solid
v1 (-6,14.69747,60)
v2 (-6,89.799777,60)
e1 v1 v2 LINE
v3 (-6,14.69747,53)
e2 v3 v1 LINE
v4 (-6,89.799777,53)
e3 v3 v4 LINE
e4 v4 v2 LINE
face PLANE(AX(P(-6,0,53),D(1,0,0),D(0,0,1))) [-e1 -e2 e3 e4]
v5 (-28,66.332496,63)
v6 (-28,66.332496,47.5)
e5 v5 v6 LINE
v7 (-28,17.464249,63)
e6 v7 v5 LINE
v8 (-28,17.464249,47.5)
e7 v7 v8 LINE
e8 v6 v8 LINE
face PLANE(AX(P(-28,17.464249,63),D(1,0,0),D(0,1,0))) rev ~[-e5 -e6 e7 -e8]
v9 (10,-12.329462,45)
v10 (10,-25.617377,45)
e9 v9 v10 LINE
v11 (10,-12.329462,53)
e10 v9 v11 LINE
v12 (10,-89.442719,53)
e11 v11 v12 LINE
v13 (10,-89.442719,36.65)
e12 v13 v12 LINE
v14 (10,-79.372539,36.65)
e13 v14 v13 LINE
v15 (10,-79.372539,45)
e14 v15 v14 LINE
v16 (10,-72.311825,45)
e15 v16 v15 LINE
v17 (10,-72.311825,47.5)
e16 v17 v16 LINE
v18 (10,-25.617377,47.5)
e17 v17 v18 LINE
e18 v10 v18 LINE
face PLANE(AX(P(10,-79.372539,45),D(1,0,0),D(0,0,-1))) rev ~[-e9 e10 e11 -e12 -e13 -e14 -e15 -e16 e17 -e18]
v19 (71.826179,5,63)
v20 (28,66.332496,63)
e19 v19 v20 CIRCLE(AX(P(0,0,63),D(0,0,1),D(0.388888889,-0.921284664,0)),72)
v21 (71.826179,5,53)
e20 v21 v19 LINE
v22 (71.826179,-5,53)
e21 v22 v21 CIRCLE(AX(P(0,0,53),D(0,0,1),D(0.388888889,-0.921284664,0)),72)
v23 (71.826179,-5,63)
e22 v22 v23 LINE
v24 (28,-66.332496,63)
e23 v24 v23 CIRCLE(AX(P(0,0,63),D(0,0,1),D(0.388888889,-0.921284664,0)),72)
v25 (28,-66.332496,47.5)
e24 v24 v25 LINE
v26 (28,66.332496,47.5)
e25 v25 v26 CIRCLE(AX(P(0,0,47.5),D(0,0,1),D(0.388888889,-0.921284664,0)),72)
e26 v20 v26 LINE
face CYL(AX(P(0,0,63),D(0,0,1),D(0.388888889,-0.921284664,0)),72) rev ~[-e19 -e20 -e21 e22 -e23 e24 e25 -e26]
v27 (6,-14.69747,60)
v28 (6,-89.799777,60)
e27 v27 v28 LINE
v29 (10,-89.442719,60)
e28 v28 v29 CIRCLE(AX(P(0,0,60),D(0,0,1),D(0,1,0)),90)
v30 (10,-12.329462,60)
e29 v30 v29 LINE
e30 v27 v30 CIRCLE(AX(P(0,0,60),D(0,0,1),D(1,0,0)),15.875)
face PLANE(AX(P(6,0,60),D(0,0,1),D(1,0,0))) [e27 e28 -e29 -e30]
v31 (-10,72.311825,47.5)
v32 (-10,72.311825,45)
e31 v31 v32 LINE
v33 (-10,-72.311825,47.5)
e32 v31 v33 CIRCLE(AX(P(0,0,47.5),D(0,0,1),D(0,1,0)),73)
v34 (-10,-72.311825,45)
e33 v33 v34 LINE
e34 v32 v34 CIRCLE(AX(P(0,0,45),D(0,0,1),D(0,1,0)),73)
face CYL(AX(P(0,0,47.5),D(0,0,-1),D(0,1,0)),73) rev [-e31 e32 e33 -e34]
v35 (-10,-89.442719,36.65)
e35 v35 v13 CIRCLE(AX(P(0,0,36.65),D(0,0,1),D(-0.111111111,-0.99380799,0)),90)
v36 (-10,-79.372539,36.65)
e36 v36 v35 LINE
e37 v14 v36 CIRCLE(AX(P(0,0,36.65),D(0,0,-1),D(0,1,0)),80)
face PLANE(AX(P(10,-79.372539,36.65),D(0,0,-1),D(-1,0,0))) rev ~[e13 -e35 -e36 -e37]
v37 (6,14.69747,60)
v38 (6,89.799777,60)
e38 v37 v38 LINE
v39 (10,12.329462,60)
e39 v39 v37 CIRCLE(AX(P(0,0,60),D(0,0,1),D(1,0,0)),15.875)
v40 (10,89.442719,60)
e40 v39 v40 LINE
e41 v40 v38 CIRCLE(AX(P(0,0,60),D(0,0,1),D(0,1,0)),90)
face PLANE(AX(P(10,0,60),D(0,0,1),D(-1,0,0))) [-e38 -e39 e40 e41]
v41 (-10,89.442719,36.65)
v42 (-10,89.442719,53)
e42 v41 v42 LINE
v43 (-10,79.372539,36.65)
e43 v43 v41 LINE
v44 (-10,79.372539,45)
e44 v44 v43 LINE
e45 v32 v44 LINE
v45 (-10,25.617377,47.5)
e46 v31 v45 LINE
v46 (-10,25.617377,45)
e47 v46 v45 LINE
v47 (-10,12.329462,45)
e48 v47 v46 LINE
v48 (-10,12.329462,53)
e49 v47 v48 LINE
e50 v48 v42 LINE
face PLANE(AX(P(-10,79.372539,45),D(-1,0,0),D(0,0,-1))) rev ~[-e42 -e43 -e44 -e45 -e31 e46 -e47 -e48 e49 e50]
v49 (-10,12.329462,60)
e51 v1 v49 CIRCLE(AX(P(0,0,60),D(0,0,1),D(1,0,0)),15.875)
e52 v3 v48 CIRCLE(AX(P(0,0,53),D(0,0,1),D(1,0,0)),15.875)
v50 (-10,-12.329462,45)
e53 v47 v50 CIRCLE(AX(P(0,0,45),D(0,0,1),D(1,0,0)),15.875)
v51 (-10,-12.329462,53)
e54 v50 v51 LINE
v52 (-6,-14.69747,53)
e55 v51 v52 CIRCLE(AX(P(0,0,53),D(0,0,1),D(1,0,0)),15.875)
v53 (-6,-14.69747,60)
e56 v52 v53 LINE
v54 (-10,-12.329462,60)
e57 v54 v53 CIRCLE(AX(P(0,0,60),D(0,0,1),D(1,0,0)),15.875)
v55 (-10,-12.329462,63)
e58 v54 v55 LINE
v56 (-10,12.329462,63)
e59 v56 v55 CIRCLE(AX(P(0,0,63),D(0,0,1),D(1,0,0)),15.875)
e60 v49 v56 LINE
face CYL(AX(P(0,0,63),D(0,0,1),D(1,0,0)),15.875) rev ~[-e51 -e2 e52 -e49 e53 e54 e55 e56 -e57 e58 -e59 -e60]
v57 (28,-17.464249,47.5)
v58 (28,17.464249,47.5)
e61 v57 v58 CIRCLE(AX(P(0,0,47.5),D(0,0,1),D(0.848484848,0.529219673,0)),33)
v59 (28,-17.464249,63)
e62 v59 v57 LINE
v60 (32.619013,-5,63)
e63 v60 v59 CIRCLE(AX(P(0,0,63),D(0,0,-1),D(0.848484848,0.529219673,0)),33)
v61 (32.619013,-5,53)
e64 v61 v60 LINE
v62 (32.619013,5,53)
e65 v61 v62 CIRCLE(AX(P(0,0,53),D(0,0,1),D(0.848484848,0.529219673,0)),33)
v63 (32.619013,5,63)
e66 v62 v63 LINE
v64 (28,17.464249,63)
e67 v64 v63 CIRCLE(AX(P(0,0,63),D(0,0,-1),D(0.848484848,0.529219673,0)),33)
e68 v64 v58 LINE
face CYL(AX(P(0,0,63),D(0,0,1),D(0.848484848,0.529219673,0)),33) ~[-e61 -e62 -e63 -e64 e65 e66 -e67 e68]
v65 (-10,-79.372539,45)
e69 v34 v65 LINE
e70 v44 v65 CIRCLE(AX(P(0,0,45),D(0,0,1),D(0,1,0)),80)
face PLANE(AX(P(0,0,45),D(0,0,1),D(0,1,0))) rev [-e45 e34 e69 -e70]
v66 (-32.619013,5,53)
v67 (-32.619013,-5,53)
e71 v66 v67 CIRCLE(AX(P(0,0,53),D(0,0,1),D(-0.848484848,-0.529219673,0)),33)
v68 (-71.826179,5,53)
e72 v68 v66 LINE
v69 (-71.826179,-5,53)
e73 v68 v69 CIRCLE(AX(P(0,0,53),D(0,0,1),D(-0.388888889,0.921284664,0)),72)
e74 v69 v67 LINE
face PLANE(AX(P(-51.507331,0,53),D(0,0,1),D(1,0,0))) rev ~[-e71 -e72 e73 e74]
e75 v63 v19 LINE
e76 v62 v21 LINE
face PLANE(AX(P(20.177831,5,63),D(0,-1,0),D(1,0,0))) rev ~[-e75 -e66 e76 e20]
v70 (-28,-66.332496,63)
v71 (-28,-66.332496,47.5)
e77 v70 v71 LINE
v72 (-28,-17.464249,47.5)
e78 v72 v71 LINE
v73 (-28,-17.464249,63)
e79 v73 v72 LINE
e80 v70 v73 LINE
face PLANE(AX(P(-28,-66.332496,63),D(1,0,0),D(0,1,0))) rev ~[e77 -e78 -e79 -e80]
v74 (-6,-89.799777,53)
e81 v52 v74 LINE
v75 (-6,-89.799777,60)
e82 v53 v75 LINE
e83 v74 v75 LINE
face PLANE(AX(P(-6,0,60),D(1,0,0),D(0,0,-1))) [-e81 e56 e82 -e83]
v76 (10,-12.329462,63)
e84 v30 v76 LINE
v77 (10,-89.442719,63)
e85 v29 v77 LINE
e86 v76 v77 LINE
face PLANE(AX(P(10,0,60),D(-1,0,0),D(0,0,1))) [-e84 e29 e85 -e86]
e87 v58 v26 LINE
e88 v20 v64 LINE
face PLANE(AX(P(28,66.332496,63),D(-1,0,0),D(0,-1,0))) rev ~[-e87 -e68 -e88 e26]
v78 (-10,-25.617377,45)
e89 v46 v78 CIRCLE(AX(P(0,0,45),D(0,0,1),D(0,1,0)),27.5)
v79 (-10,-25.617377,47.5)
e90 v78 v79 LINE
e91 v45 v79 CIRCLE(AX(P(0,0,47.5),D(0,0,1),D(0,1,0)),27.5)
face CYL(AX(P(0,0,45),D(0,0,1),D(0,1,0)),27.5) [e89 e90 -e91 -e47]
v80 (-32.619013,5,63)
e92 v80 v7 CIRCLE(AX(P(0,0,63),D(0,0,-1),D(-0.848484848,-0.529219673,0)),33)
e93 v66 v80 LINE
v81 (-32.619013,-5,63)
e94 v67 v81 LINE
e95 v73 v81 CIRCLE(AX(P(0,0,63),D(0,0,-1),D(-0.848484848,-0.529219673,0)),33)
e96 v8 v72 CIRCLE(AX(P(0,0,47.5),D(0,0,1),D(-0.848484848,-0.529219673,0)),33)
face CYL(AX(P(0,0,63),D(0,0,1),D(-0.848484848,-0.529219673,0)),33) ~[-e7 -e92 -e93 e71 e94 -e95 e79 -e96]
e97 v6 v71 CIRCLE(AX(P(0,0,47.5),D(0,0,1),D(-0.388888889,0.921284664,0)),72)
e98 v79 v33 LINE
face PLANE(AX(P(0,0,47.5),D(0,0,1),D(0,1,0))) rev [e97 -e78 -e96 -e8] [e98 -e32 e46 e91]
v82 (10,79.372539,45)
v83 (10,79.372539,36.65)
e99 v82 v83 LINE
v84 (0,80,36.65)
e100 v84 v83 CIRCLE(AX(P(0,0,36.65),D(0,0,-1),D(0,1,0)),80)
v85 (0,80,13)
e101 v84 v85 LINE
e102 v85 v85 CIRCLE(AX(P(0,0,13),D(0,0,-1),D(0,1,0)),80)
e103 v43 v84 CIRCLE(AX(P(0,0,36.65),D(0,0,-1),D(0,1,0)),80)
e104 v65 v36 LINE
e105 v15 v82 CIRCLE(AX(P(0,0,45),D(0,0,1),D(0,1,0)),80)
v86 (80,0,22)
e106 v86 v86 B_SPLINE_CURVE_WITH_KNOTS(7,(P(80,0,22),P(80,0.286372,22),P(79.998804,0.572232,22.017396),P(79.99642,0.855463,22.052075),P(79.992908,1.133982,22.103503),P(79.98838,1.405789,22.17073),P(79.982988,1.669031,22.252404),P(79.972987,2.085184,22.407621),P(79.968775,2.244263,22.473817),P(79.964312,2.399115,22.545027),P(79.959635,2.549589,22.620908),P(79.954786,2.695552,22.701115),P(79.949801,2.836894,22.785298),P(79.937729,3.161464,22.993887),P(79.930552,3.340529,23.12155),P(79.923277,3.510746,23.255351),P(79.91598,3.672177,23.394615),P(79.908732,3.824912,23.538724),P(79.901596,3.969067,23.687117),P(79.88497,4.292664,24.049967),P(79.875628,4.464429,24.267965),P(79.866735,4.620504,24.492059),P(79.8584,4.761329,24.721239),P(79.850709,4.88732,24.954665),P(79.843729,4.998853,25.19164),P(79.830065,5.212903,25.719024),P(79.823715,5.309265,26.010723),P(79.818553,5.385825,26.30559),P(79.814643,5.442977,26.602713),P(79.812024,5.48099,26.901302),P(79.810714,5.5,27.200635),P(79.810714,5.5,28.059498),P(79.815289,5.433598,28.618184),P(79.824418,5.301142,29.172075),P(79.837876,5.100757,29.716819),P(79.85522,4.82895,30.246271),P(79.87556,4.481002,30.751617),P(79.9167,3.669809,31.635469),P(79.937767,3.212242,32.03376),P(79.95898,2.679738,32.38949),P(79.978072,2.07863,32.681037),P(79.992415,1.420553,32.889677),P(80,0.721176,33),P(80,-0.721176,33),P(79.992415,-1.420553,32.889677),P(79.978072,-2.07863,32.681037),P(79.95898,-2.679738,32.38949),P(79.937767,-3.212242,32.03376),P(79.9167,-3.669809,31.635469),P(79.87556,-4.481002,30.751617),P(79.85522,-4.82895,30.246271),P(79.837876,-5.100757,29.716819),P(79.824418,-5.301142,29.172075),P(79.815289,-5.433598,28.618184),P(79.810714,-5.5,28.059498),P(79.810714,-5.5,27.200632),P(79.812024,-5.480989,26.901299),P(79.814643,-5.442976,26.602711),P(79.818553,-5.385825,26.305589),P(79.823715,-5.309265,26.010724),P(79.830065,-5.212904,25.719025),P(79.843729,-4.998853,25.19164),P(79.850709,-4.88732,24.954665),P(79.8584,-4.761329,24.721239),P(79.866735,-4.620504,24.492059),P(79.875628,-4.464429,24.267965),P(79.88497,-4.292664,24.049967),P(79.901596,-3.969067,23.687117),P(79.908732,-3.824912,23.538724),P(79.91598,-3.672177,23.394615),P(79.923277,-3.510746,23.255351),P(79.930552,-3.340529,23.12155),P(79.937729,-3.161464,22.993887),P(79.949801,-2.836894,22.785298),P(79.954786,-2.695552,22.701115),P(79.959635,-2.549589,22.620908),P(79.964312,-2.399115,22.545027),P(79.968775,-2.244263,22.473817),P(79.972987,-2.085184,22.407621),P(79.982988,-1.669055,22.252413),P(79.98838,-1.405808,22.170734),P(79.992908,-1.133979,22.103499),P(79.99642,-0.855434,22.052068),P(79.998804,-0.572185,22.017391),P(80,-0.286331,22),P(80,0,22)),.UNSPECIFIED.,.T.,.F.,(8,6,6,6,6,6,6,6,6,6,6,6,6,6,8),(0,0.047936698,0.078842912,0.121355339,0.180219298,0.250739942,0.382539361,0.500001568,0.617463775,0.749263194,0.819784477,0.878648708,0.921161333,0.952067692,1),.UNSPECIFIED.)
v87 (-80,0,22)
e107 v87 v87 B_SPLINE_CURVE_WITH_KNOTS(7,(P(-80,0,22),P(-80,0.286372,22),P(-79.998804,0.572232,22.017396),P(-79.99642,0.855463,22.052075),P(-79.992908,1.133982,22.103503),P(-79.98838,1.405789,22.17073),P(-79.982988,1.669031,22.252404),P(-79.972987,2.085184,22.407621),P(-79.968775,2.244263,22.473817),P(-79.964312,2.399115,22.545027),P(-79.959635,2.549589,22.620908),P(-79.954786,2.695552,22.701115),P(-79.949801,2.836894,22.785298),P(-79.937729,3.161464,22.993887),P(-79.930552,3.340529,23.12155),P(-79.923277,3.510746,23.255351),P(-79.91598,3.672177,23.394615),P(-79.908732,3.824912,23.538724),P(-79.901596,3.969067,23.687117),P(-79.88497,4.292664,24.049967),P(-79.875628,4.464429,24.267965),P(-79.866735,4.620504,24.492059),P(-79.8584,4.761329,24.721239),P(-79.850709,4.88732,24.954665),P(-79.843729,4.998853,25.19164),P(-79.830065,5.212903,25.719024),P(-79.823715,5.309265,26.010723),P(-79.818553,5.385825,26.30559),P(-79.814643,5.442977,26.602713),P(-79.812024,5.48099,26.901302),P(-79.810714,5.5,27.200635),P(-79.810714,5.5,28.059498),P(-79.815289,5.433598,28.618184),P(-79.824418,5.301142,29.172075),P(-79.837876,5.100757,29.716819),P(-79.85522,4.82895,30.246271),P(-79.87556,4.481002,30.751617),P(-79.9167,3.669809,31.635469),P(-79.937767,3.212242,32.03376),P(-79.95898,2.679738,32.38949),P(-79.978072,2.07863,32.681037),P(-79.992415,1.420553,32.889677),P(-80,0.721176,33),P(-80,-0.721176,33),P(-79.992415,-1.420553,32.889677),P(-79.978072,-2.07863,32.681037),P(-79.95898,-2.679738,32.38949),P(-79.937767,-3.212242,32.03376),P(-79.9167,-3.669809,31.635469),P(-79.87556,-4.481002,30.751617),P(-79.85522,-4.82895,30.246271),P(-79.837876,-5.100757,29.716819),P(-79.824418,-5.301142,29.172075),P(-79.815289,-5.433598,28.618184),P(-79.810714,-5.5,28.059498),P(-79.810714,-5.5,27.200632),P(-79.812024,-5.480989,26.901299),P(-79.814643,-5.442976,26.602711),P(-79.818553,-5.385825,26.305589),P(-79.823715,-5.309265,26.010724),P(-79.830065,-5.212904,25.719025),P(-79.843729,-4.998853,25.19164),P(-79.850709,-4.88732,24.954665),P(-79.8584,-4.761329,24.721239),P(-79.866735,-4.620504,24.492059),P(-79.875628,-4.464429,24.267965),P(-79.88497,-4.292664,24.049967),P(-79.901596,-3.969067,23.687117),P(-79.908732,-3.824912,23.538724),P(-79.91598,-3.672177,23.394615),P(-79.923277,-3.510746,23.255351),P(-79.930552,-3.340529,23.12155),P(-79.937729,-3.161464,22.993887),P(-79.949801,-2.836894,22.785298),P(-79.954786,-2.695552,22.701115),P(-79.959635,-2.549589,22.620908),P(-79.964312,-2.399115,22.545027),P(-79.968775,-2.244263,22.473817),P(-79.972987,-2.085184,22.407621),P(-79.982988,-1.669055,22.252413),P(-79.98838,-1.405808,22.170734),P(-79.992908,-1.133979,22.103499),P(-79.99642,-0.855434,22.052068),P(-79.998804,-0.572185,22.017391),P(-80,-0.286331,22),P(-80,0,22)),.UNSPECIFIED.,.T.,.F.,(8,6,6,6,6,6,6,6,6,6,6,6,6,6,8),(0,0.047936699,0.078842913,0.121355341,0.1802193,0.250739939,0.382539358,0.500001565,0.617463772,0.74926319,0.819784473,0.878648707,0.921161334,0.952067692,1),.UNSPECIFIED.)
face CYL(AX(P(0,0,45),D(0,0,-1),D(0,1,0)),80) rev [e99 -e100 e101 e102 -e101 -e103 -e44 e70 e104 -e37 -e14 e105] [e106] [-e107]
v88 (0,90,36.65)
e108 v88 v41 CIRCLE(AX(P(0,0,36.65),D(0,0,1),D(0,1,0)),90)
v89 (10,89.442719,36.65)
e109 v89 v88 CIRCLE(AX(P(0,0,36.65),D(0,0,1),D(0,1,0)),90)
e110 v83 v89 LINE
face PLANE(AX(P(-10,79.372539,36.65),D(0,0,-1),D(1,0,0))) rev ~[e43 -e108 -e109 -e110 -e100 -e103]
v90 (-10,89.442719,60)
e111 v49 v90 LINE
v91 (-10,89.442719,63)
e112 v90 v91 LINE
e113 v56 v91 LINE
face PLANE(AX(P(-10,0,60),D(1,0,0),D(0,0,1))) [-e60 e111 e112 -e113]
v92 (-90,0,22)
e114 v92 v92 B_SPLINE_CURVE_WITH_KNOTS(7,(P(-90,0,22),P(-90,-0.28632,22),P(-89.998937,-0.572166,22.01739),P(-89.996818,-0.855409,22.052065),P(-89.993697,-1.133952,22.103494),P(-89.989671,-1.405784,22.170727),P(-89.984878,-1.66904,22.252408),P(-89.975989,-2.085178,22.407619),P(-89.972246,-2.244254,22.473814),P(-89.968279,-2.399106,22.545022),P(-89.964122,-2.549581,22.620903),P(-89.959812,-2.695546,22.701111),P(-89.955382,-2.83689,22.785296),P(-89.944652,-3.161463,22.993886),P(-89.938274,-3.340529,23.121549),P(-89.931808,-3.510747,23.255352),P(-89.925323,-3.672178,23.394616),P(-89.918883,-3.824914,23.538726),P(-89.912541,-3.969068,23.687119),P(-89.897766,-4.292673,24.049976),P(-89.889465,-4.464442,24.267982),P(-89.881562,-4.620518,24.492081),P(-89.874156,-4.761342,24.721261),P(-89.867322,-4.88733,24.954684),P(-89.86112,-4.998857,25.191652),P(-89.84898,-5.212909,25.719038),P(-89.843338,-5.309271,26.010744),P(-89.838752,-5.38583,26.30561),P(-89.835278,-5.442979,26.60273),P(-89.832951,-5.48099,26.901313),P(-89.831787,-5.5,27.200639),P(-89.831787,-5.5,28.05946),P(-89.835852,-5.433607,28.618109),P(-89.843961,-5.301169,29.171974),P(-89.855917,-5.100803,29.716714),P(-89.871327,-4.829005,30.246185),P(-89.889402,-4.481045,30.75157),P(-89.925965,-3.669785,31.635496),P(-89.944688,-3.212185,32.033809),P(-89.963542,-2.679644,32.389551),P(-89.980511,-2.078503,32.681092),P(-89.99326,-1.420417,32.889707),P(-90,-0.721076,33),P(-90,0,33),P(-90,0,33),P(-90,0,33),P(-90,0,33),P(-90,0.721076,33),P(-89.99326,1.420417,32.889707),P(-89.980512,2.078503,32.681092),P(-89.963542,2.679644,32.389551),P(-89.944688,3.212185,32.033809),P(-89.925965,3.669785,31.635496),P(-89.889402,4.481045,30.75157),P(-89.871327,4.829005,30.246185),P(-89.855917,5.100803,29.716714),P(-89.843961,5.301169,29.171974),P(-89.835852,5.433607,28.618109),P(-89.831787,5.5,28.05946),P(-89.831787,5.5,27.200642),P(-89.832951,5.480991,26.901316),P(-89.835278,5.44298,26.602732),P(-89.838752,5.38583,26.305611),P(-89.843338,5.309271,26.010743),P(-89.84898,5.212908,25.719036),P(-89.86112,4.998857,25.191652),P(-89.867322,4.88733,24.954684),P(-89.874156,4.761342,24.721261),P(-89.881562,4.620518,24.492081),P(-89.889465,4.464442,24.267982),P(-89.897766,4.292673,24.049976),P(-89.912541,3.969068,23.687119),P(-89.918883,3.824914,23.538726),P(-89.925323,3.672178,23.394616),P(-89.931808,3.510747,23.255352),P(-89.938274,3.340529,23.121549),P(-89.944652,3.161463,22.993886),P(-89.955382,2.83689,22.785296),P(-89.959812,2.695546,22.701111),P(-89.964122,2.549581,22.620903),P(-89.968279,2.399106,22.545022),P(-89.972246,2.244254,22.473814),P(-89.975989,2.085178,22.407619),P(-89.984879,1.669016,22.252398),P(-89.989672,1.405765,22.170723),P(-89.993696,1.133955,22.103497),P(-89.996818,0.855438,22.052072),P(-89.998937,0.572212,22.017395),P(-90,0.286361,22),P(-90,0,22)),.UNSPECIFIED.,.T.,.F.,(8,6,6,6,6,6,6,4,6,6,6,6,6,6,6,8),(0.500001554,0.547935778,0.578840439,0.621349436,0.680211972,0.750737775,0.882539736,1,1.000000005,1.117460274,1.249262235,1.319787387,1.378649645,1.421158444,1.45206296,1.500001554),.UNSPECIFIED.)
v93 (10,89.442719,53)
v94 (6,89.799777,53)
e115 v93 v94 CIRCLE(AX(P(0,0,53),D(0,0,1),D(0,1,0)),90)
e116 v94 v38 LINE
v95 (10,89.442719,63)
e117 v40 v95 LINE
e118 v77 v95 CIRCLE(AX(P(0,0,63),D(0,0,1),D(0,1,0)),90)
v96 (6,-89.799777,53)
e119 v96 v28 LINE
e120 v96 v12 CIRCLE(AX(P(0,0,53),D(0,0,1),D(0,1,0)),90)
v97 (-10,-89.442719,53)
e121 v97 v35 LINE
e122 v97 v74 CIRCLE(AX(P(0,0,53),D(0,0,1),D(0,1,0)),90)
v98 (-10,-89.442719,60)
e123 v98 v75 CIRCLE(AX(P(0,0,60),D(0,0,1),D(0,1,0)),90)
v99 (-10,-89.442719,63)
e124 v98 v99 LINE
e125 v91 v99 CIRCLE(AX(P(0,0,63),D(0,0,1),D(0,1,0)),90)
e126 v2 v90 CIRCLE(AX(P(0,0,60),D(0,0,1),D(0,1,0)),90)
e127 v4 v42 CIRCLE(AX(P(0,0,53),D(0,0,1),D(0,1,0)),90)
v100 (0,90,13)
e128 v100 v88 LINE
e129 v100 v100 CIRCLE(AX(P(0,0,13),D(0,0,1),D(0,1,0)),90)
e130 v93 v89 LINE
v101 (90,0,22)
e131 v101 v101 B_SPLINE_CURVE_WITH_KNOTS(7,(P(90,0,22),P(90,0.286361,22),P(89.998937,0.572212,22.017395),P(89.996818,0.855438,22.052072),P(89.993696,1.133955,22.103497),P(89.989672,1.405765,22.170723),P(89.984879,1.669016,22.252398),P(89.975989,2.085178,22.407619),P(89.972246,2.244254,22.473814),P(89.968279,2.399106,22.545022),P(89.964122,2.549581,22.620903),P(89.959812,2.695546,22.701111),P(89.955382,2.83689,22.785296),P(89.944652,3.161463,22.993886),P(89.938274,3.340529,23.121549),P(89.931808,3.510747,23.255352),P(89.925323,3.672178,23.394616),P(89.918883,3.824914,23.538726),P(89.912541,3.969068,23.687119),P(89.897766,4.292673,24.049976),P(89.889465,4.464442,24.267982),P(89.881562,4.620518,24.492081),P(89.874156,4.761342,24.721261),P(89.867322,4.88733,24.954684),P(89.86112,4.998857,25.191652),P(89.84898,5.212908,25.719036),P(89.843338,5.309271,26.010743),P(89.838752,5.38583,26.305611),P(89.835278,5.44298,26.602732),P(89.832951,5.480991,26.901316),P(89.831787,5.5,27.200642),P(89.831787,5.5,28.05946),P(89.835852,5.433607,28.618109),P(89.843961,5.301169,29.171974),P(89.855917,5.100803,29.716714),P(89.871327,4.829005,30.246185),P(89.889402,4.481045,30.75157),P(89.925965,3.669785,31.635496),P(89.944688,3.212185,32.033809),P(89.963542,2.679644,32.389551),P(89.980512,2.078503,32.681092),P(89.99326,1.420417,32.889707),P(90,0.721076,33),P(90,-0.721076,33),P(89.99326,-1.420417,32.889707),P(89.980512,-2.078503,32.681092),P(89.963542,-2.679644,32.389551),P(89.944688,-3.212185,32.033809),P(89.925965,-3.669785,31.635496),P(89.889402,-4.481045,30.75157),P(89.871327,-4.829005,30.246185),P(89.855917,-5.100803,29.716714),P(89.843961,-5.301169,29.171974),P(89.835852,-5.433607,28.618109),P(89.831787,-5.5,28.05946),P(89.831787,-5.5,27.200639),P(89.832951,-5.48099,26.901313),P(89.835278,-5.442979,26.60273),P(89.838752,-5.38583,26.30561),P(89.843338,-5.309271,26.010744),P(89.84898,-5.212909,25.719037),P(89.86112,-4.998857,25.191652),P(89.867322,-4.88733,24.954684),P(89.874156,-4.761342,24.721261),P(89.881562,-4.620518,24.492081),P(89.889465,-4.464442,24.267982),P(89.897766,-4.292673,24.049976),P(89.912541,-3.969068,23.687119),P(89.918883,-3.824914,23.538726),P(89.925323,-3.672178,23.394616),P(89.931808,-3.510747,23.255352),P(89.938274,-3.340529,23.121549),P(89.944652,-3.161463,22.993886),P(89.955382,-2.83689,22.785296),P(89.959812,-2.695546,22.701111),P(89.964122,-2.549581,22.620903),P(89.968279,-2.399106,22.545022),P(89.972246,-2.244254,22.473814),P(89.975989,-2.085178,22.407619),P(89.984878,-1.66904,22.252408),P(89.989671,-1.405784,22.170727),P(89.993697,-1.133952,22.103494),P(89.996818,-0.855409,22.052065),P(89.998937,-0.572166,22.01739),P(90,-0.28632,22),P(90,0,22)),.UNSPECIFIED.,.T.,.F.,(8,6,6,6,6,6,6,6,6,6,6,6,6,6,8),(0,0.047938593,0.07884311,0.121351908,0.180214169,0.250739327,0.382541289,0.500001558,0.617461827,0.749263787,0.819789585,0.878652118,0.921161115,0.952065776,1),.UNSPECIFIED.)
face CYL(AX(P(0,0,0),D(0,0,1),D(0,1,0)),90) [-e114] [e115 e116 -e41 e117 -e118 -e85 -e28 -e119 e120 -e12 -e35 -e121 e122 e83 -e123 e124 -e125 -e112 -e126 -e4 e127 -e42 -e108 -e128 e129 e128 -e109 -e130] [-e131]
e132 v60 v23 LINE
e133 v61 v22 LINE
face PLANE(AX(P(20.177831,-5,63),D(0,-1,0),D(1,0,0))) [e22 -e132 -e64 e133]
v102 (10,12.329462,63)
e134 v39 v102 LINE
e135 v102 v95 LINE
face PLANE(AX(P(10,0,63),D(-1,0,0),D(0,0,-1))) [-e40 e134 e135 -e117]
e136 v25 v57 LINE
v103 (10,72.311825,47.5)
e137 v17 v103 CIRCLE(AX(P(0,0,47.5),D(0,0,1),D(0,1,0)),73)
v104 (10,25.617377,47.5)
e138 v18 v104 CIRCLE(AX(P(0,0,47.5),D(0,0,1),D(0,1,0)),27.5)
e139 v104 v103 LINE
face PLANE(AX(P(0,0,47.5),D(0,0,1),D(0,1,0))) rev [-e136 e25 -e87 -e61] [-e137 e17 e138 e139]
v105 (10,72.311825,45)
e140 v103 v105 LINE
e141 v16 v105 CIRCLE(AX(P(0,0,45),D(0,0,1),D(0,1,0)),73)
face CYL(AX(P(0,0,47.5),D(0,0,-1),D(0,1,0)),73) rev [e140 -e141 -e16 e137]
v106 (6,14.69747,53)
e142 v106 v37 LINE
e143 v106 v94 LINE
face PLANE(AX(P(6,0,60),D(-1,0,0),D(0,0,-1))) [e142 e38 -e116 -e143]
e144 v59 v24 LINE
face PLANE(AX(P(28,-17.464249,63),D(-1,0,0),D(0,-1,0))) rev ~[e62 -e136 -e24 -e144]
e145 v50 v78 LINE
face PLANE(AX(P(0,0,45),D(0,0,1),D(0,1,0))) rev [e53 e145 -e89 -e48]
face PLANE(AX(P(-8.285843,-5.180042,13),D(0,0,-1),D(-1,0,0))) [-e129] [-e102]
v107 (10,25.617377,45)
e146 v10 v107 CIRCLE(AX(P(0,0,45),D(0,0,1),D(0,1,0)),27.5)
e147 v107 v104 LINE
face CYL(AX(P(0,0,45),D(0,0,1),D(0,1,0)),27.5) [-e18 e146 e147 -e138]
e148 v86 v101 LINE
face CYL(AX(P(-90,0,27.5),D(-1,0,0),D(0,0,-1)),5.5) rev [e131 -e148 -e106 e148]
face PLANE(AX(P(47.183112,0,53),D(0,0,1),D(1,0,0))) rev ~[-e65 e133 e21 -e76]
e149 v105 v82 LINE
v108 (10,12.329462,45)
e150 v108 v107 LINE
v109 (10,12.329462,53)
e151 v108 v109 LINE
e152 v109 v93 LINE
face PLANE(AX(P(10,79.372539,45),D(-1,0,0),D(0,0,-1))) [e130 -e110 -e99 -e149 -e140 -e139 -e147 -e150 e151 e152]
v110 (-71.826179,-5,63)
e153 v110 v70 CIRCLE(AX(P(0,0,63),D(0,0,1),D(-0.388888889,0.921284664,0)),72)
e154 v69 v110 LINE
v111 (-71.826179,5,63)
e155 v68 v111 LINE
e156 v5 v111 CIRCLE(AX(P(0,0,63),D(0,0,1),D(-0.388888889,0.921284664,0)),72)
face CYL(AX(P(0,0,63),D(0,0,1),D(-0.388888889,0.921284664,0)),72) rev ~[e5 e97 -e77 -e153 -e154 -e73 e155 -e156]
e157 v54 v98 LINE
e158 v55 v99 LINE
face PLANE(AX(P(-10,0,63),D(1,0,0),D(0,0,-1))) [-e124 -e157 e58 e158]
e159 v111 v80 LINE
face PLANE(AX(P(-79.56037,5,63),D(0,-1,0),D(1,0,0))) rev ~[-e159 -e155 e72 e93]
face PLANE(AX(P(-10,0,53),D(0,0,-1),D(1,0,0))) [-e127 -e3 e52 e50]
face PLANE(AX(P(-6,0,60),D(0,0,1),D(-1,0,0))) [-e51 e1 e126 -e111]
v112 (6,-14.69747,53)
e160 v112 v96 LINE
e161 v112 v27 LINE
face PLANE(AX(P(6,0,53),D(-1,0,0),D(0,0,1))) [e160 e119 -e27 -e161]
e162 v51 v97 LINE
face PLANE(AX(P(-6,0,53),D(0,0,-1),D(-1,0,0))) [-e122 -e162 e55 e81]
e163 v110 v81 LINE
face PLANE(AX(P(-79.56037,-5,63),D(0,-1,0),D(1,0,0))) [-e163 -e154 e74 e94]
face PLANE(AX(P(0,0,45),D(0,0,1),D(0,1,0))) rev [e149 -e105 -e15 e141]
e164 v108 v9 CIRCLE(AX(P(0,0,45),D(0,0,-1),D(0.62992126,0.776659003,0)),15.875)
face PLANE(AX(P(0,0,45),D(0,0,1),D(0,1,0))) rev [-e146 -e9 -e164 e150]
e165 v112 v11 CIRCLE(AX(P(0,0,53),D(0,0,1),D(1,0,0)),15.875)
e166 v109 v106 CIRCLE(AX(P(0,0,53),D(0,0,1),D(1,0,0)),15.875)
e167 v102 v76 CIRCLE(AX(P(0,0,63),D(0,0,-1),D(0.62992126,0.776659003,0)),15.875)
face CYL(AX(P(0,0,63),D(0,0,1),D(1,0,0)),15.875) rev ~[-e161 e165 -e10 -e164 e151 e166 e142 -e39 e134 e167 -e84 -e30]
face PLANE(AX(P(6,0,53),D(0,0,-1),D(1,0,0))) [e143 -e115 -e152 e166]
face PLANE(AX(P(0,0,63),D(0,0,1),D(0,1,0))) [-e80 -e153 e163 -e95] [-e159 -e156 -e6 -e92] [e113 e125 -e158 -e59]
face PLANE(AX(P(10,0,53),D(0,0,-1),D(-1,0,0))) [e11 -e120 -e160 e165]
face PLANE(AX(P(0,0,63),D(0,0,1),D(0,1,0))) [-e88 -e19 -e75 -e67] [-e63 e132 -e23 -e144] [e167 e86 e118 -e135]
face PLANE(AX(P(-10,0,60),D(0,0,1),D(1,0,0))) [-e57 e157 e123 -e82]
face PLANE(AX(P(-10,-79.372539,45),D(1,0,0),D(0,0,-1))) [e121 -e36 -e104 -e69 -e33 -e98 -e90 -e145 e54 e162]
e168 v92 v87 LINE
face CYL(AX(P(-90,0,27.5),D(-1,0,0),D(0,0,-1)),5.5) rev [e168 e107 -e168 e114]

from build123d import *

# Parameters (mm, degrees)
CUT_EXTRUDE1_DEPTH       = 91
CUT_EXTRUDE13_START      = 79.372539
SKETCH35_W               = 20
SKETCH35_H               = 8.35
CUT_EXTRUDE13_DEPTH      = 10.627461
CIRPATTERN1_COUNT        = 2
CUT_EXTRUDE14_DEPTH      = 64
SKETCH38_W               = 301.896550135
SKETCH38_H               = 232.512752758
CUT_EXTRUDE15_DEPTH      = 13
SKETCH39_W               = 54.010562882
SKETCH39_H               = 10
SKETCH39_W_2             = 56.106077308
BOSS_EXTRUDE1_DEPTH      = 10
SKETCH17_R               = 5.5
CUT_EXTRUDE18_DEPTH      = 181
CUT_EXTRUDE18_DEPTH_BACK = 1
SKETCH42_R               = 15.875
CUT_EXTRUDE19_DEPTH      = 40


with BuildPart() as part:
    # Sketch3 → Revolve2 (revolve)
    with BuildSketch(Plane(origin=(0, 0, 0), x_dir=(0, 0, -1), z_dir=(1, 0, 0))):
        Polygon((-45, 80), (0, 80), (0, 90), (-63, 90), (-63, 15), (-45, 15), (-45, 27.5), (-47.5, 27.5), (-47.5, 73), (-45, 73), align=None)
    revolve(axis=Axis((0, 0, 0), (0, 0, 1)))

    # Sketch4 → Cut-Extrude1 (cut, through all)
    with BuildSketch(Plane(origin=(0, 0, 0), x_dir=(1, 0, 0), z_dir=(0, 1, 0))):
        Polygon((10, -53), (10, -45), (-10, -45), (-10, -53), (-6, -53), (-6, -60), (-10, -60), (-10, -63), (10, -63), (10, -60), (6, -60), (6, -53), align=None)
    cut_extrude1 = extrude(amount=CUT_EXTRUDE1_DEPTH, mode=Mode.SUBTRACT)

    # Sketch35 → Cut-Extrude13 (cut)
    with BuildSketch(Plane(origin=(0, 0, 0), x_dir=(1, 0, 0), z_dir=(0, 1, 0)).offset(CUT_EXTRUDE13_START)):
        with Locations((0, -40.825)):
            Rectangle(SKETCH35_W, SKETCH35_H)
    cut_extrude13 = extrude(amount=CUT_EXTRUDE13_DEPTH, mode=Mode.SUBTRACT)

    # CirPattern1: Cut-Extrude1, Cut-Extrude13 ×2 about axis
    cirpattern1_axis = Axis((0, 0, 0), (0, 0, 1))
    for i in range(1, CIRPATTERN1_COUNT):
        add(cut_extrude1.rotate(cirpattern1_axis, i * 360 / CIRPATTERN1_COUNT), mode=Mode.SUBTRACT)
        add(cut_extrude13.rotate(cirpattern1_axis, i * 360 / CIRPATTERN1_COUNT), mode=Mode.SUBTRACT)

    # Sketch37 → Cut-Extrude14 (cut, through all)
    with BuildSketch(Plane.XY.offset(63)):
        with BuildLine():
            Line((-28, -66.332495807), (-28, -17.464249197))
            ThreePointArc((-28, -17.464249197), (-33, 0), (-28, 17.464249197))
            Line((-28, 17.464249197), (-28, 66.332495807))
            ThreePointArc((-28, 66.332495807), (-72, 0), (-28, -66.332495807))
        make_face()
        with BuildLine():
            Line((28, -17.464249197), (28, -66.332495807))
            ThreePointArc((28, -66.332495807), (72, 0), (28, 66.332495807))
            Line((28, 66.332495807), (28, 17.464249197))
            ThreePointArc((28, 17.464249197), (33, 0), (28, -17.464249197))
        make_face()
    extrude(amount=-CUT_EXTRUDE14_DEPTH, mode=Mode.SUBTRACT)

    # Sketch38 → Cut-Extrude15 (cut)
    with BuildSketch(Plane(origin=(0, 0, 0), x_dir=(-1, 0, 0), z_dir=(0, 0, -1))):
        with Locations((8.285843347, -5.180042081)):
            Rectangle(SKETCH38_W, SKETCH38_H)
    extrude(amount=-CUT_EXTRUDE15_DEPTH, mode=Mode.SUBTRACT)

    # Sketch39 → Boss-Extrude1 (add)
    with BuildSketch(Plane.XY.offset(63)):
        with Locations((47.183112068, 0)):
            Rectangle(SKETCH39_W, SKETCH39_H)
        with Locations((-51.507331201, 0)):
            Rectangle(SKETCH39_W_2, SKETCH39_H)
    extrude(amount=-BOSS_EXTRUDE1_DEPTH)

    # Sketch17 → Cut-Extrude18 (cut, two sides)
    with BuildSketch(Plane(origin=(-90, 0, 0), x_dir=(0, 0, -1), z_dir=(1, 0, 0))) as cut_extrude18_sk:
        with Locations((-27.5, 0)):
            Circle(SKETCH17_R)
    extrude(amount=CUT_EXTRUDE18_DEPTH, mode=Mode.SUBTRACT)
    extrude(cut_extrude18_sk.sketch, amount=-CUT_EXTRUDE18_DEPTH_BACK, mode=Mode.SUBTRACT)

    # Sketch42 → Cut-Extrude19 (cut)
    with BuildSketch(Plane.XY.offset(63)):
        Circle(SKETCH42_R)
    extrude(amount=-CUT_EXTRUDE19_DEPTH, mode=Mode.SUBTRACT)


solid = part.part
